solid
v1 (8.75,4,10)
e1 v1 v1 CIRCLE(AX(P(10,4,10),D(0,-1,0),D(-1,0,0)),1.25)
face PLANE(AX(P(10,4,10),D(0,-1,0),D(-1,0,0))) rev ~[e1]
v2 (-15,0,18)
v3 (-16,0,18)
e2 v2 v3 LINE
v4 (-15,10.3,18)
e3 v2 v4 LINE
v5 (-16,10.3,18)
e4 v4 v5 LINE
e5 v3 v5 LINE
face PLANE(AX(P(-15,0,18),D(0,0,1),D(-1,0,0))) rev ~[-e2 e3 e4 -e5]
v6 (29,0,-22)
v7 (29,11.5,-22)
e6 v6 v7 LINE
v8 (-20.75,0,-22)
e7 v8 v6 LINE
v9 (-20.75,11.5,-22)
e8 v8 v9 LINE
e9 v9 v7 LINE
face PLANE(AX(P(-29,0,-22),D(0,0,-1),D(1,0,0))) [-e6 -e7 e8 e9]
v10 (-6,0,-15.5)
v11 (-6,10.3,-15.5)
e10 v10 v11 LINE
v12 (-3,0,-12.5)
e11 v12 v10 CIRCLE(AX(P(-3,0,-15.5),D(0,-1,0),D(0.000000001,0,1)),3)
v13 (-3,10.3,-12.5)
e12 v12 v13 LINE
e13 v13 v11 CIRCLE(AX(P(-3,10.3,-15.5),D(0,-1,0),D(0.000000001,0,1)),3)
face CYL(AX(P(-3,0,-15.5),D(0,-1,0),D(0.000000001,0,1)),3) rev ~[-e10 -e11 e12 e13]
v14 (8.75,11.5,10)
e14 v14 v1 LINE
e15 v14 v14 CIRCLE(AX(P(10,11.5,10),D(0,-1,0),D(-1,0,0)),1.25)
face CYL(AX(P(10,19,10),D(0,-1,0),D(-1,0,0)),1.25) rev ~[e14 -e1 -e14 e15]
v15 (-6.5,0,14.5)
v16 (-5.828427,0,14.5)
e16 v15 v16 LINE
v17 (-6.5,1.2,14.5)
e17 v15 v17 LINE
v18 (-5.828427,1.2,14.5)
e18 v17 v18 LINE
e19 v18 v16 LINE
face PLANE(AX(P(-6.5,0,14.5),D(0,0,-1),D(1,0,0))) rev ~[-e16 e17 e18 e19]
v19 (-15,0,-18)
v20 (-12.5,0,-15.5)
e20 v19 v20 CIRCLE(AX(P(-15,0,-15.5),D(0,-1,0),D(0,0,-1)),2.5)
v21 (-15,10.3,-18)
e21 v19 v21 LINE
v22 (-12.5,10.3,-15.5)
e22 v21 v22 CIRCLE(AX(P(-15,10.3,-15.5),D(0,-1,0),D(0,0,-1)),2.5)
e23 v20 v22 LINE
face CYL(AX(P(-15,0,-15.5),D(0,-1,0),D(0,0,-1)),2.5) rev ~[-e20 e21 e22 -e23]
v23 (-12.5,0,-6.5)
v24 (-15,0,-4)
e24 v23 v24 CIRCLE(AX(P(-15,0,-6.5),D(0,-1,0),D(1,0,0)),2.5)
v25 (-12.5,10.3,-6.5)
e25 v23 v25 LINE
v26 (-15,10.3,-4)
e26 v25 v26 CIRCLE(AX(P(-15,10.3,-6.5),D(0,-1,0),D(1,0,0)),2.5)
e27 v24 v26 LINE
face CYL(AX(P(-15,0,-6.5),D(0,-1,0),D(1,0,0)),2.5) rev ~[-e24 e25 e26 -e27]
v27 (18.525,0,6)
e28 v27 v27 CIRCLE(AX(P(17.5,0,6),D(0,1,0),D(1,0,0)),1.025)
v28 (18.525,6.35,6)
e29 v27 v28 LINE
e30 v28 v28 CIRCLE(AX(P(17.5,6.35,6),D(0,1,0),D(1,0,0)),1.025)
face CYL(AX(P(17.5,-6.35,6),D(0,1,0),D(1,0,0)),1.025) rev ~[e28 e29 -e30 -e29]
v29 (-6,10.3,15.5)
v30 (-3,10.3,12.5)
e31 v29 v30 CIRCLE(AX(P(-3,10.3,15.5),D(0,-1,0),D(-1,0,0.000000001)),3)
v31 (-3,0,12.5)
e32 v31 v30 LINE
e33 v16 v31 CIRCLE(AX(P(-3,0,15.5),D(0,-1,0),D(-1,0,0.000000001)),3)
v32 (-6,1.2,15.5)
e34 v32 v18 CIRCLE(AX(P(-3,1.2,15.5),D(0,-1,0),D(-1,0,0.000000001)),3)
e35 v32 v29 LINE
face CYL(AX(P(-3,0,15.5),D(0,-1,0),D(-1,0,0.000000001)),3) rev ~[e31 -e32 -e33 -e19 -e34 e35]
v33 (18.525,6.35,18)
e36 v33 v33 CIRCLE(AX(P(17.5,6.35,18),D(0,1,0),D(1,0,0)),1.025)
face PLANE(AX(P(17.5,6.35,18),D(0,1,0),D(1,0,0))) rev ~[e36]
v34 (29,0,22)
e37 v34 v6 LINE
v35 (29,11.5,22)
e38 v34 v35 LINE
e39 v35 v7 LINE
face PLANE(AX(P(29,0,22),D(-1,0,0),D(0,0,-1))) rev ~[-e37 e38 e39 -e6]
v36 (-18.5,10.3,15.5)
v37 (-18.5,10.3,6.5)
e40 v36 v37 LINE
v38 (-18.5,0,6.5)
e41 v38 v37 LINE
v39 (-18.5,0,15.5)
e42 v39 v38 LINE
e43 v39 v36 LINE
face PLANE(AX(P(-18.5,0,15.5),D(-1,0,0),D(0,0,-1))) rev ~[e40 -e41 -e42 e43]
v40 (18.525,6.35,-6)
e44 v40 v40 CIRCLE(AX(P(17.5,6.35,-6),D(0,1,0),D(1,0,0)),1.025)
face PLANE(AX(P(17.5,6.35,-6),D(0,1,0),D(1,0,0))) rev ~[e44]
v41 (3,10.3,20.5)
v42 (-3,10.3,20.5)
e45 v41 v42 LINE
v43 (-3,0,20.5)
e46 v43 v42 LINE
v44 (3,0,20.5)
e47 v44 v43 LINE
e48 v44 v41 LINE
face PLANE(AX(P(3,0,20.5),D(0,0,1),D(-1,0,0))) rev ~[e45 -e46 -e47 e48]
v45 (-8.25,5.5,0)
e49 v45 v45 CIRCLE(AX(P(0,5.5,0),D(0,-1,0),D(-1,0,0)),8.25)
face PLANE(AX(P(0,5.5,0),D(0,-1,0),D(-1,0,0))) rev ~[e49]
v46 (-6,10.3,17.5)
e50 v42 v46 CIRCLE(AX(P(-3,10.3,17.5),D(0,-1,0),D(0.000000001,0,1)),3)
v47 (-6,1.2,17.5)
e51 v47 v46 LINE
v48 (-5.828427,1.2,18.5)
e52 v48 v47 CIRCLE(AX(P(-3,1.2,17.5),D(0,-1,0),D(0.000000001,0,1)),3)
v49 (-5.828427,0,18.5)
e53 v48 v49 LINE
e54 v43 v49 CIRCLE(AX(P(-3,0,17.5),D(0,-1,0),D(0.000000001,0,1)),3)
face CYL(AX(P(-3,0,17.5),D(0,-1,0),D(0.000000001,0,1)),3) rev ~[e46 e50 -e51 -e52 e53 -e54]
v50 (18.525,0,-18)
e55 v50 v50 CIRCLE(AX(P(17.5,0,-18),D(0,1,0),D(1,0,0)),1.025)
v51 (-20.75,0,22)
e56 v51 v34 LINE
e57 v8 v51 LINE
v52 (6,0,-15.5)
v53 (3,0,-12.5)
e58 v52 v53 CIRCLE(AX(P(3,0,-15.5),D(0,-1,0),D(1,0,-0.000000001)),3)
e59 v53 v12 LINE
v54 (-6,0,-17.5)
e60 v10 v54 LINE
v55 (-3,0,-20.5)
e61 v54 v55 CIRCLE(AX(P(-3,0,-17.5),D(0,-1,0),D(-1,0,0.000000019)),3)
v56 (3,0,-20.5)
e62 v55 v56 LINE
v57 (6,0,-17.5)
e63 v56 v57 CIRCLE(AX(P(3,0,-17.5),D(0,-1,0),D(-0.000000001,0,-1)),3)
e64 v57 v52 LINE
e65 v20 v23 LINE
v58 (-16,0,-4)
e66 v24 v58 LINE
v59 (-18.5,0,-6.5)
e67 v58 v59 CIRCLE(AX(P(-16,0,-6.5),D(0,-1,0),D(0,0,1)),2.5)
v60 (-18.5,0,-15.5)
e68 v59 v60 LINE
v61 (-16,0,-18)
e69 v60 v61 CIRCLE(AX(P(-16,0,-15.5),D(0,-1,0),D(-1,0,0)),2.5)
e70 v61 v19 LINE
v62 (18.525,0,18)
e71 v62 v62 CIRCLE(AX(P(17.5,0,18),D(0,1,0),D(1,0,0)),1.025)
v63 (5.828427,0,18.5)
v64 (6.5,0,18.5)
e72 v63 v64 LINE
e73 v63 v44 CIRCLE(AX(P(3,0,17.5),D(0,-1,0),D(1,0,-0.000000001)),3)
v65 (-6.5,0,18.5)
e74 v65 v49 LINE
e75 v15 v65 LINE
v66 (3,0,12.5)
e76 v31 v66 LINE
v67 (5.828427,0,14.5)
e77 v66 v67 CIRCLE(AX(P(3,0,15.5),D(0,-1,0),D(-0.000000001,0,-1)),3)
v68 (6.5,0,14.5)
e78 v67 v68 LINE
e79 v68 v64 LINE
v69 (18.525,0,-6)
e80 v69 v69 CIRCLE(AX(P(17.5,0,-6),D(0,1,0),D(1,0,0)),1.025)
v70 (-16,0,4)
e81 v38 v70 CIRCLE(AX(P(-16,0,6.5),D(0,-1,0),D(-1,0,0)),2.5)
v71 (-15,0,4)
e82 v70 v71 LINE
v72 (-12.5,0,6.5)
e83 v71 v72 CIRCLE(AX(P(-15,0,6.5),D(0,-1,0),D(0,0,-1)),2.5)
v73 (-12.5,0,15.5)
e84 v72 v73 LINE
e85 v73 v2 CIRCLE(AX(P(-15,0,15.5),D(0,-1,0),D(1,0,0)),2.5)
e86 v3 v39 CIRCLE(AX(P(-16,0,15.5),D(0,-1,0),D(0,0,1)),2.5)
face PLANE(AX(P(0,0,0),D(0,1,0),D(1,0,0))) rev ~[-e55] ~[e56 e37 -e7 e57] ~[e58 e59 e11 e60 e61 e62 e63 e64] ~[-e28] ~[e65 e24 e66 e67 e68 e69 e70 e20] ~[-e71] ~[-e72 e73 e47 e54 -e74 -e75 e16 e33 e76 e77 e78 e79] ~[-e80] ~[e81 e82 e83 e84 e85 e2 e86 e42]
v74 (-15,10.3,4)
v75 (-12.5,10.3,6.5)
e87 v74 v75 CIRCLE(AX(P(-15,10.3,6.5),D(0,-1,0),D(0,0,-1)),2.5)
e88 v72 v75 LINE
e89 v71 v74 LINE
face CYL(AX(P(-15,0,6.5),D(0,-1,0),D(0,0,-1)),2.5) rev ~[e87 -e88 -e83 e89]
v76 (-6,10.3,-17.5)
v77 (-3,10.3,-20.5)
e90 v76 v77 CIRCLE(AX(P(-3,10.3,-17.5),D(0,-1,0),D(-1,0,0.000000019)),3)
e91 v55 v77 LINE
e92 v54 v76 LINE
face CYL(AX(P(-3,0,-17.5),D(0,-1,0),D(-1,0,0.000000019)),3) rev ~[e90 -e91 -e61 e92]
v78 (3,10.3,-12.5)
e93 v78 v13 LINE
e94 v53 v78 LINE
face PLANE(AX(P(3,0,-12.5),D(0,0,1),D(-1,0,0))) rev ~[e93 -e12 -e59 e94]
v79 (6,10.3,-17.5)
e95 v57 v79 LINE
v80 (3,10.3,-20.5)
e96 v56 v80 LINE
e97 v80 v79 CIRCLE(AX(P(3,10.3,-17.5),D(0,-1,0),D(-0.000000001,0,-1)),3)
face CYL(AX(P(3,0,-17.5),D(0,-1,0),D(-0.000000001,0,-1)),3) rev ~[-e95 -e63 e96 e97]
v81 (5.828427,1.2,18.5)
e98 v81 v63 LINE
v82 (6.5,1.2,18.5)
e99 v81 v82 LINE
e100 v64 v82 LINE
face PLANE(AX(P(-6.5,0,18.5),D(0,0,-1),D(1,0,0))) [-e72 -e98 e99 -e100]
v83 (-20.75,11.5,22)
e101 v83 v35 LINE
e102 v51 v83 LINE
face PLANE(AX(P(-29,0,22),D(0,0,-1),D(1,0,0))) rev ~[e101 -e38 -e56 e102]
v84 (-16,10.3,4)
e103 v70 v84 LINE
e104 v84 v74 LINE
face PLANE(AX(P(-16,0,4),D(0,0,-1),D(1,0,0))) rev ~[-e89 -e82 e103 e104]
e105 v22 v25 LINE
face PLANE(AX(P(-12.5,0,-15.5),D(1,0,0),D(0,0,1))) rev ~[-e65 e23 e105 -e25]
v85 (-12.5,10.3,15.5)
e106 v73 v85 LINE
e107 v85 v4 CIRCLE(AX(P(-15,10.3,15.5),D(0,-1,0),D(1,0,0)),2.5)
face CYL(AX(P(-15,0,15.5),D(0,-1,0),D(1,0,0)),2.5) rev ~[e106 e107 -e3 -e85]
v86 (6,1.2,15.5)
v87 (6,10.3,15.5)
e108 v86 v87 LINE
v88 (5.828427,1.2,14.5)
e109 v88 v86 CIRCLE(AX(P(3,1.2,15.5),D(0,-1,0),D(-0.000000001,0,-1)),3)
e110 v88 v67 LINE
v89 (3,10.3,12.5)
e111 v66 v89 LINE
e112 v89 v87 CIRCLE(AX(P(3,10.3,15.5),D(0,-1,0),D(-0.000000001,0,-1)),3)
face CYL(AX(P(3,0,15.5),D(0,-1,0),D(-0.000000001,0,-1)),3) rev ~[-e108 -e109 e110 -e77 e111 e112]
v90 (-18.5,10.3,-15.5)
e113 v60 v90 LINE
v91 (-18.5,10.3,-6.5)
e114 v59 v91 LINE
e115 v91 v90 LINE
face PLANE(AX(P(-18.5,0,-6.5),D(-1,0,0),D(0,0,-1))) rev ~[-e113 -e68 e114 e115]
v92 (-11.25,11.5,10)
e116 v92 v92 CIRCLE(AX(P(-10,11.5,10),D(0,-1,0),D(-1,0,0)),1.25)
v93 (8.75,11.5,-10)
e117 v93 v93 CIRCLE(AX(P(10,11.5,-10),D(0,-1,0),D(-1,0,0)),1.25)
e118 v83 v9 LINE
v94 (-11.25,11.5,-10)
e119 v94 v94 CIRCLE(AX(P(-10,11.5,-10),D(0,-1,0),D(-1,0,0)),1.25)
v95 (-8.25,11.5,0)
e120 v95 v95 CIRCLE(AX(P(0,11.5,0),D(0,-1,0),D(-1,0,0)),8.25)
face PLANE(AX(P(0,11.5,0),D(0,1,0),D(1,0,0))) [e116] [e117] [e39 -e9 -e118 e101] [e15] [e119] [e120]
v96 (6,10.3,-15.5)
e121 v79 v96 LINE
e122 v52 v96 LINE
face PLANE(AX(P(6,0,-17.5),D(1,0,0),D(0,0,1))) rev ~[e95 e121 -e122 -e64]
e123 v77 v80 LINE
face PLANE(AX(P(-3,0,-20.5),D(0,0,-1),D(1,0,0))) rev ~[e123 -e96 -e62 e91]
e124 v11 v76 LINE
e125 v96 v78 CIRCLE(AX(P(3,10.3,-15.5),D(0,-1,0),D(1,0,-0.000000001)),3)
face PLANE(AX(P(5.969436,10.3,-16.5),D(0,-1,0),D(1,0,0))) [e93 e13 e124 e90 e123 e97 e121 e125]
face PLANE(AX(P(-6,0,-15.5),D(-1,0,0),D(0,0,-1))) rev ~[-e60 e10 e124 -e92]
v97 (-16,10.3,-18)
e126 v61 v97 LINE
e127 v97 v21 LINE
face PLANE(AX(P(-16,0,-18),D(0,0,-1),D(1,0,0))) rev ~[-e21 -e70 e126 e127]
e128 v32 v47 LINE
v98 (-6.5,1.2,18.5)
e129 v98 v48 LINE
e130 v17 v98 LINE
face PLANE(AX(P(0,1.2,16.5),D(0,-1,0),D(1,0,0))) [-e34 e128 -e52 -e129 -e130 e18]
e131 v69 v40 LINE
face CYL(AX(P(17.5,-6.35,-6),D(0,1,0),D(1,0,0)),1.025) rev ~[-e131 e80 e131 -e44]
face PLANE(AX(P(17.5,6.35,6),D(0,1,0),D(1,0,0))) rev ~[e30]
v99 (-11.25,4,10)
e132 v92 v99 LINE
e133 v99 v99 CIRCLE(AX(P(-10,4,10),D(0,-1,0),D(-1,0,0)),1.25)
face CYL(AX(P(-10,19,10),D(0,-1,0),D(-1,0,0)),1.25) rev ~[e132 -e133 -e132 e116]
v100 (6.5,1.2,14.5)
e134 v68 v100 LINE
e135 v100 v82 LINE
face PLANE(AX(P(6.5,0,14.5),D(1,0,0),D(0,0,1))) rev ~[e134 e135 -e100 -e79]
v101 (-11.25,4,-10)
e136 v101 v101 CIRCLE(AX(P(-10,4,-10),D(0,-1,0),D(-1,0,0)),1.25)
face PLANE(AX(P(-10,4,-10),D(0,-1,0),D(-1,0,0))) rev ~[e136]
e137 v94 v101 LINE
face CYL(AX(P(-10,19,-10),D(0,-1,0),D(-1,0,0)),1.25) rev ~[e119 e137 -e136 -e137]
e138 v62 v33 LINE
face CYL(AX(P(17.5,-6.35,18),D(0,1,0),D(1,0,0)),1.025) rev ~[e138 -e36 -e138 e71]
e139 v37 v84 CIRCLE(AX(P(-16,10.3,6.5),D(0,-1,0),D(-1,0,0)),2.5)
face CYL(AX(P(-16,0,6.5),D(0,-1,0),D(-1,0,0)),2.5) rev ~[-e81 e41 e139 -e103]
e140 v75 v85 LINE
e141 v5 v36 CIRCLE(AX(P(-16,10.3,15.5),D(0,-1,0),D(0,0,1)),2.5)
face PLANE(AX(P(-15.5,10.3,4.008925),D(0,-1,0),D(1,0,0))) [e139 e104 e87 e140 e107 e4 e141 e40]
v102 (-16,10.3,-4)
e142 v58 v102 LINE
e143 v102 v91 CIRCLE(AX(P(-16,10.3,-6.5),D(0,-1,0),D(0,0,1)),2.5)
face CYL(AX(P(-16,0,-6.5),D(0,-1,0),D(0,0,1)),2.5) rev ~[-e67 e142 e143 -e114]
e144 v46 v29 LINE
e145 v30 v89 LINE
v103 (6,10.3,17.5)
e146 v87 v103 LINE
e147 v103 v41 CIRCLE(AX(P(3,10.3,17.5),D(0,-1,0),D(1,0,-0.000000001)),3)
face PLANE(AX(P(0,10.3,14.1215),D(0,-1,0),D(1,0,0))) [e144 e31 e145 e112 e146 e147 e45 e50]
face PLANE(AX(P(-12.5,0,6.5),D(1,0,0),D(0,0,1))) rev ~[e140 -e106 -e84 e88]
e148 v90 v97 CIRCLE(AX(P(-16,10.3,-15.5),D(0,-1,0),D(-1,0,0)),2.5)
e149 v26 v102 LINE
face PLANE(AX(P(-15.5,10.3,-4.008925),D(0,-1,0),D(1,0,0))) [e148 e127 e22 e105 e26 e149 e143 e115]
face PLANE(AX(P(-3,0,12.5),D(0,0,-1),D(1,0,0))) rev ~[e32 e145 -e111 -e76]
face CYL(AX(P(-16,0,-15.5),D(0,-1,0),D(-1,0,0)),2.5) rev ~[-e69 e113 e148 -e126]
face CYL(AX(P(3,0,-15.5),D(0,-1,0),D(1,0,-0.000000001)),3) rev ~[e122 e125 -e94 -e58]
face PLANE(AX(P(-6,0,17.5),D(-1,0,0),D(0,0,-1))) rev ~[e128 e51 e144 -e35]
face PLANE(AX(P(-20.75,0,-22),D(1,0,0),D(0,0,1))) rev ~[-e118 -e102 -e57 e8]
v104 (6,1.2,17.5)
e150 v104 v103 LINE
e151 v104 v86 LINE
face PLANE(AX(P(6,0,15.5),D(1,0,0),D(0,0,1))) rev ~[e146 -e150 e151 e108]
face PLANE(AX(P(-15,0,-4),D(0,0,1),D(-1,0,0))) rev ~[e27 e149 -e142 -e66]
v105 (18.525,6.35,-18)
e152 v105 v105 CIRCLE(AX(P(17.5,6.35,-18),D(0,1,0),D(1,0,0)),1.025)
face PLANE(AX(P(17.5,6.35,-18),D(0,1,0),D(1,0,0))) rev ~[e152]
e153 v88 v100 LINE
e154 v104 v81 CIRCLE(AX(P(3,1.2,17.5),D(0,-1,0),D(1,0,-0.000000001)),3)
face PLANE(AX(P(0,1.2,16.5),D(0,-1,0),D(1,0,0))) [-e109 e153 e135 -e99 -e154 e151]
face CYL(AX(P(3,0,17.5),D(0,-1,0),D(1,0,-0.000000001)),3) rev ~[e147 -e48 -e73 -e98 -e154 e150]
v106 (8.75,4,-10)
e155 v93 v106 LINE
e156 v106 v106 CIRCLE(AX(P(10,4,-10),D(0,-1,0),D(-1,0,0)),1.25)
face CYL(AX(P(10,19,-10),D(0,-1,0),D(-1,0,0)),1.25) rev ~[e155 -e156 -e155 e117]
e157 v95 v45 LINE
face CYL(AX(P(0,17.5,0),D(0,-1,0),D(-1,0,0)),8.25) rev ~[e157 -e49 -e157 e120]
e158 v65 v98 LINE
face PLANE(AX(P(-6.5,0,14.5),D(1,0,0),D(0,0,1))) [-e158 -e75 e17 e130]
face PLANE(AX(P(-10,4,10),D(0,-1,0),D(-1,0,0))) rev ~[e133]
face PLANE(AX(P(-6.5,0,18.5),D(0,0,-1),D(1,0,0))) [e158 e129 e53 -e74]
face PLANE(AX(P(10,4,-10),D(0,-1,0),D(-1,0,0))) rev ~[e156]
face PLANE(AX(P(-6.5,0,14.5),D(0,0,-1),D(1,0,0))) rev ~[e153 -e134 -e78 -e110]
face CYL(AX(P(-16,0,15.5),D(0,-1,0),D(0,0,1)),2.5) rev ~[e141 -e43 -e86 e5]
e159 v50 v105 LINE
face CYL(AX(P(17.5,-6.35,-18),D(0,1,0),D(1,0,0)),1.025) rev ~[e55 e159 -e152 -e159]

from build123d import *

# Parameters (mm, degrees)
SKETCH1_W                        = 58
SKETCH1_H                        = 44
BOSS_EXTRUDE1_DEPTH              = 11.5
F_16_5_16_5_DIAMETER_HOLE1_D     = 16.5
F_16_5_16_5_DIAMETER_HOLE1_DEPTH = 6
M3X0_5_TAPPED_HOLE1_D            = 2.5
M3X0_5_TAPPED_HOLE1_DEPTH        = 7.5
CUT_EXTRUDE1_DEPTH               = 10.3
CUT_EXTRUDE2_DEPTH               = 10.3
SKETCH13_W                       = 8.25
SKETCH13_H                       = 44
CUT_EXTRUDE3_DEPTH               = 39.173943993
M2_5X0_45_TAPPED_HOLE1_D         = 2.05
M2_5X0_45_TAPPED_HOLE1_DEPTH     = 6.35
SKETCH16_W                       = 13
SKETCH16_H                       = 4
CUT_EXTRUDE4_DEPTH               = 1.2


with BuildPart() as part:
    # Sketch1 → Boss-Extrude1 (new body)
    with BuildSketch(Plane(origin=(0, 0, 0), x_dir=(1, 0, 0), z_dir=(0, 1, 0))):
        Rectangle(SKETCH1_W, SKETCH1_H)
    extrude(amount=BOSS_EXTRUDE1_DEPTH)

    # Ø16.5 (16.5) Diameter Hole1
    with Locations(Plane(origin=(0, 11.5, 0), x_dir=(1, 0, 0), z_dir=(0, 1, 0))):
        with Locations((0, 0)):
            Hole(F_16_5_16_5_DIAMETER_HOLE1_D / 2, depth=F_16_5_16_5_DIAMETER_HOLE1_DEPTH)

    # M3x0.5 Tapped Hole1
    with Locations(Plane(origin=(0, 11.5, 0), x_dir=(1, 0, 0), z_dir=(0, 1, 0))):
        with Locations((-10, 10), (10, 10), (-10, -10), (10, -10)):
            Hole(M3X0_5_TAPPED_HOLE1_D / 2, depth=M3X0_5_TAPPED_HOLE1_DEPTH)

    # Sketch10 → Cut-Extrude1 (cut)
    with BuildSketch(Plane.XZ):
        with BuildLine():
            Line((3, 20.5), (-3, 20.5))
            ThreePointArc((-3, 20.5), (-5.121320344, 19.621320344), (-6, 17.5))
            Line((-6, 17.5), (-6, 15.5))
            ThreePointArc((-6, 15.5), (-5.121320344, 13.378679656), (-3, 12.5))
            Line((-3, 12.5), (3, 12.5))
            ThreePointArc((3, 12.5), (5.121320344, 13.378679656), (6, 15.5))
            Line((6, 15.5), (6, 17.5))
            ThreePointArc((6, 17.5), (5.121320344, 19.621320344), (3, 20.5))
        make_face()
        with BuildLine():
            Line((-6, -15.5), (-6, -17.499999942))
            ThreePointArc((-6, -17.499999942), (-5.121320364, -19.621320323), (-3, -20.5))
            Line((-3, -20.5), (3, -20.5))
            ThreePointArc((3, -20.5), (5.121320344, -19.621320344), (6, -17.5))
            Line((6, -17.5), (6, -15.5))
            ThreePointArc((6, -15.5), (5.121320344, -13.378679656), (3, -12.5))
            Line((3, -12.5), (-3, -12.5))
            ThreePointArc((-3, -12.5), (-5.121320344, -13.378679656), (-6, -15.5))
        make_face()
    extrude(amount=-CUT_EXTRUDE1_DEPTH, mode=Mode.SUBTRACT)

    # Sketch11 → Cut-Extrude2 (cut)
    with BuildSketch(Plane.XZ):
        with BuildLine():
            ThreePointArc((-12.5, 15.5), (-13.232233047, 17.267766953), (-15, 18))
            Line((-15, 18), (-16, 18))
            ThreePointArc((-16, 18), (-17.767766953, 17.267766953), (-18.5, 15.5))
            Line((-18.5, 15.5), (-18.5, 6.5))
            ThreePointArc((-18.5, 6.5), (-17.767766953, 4.732233047), (-16, 4))
            Line((-16, 4), (-15, 4))
            ThreePointArc((-15, 4), (-13.232233047, 4.732233047), (-12.5, 6.5))
            Line((-12.5, 6.5), (-12.5, 15.5))
        make_face()
        with BuildLine():
            ThreePointArc((-12.5, -6.5), (-13.232233047, -4.732233047), (-15, -4))
            Line((-15, -4), (-16, -4))
            ThreePointArc((-16, -4), (-17.767766953, -4.732233047), (-18.5, -6.5))
            Line((-18.5, -6.5), (-18.5, -15.5))
            ThreePointArc((-18.5, -15.5), (-17.767766953, -17.267766953), (-16, -18))
            Line((-16, -18), (-15, -18))
            ThreePointArc((-15, -18), (-13.232233047, -17.267766953), (-12.5, -15.5))
            Line((-12.5, -15.5), (-12.5, -6.5))
        make_face()
    extrude(amount=-CUT_EXTRUDE2_DEPTH, mode=Mode.SUBTRACT)

    # Sketch13 → Cut-Extrude3 (cut, through all)
    with BuildSketch(Plane.XZ):
        with Locations((-24.875, 0)):
            Rectangle(SKETCH13_W, SKETCH13_H)
    extrude(amount=-CUT_EXTRUDE3_DEPTH, mode=Mode.SUBTRACT)

    # M2.5x0.45 Tapped Hole1
    with Locations(Plane(origin=(0, 0, 0), x_dir=(-1, 0, 0), z_dir=(0, -1, 0))):
        with Locations((-17.5, 6), (-17.5, -6), (-17.5, -18), (-17.5, 18)):
            Hole(M2_5X0_45_TAPPED_HOLE1_D / 2, depth=M2_5X0_45_TAPPED_HOLE1_DEPTH)

    # Sketch16 → Cut-Extrude4 (cut)
    with BuildSketch(Plane.XZ):
        with Locations((0, 16.5)):
            Rectangle(SKETCH16_W, SKETCH16_H)
    extrude(amount=-CUT_EXTRUDE4_DEPTH, mode=Mode.SUBTRACT)


solid = part.part
